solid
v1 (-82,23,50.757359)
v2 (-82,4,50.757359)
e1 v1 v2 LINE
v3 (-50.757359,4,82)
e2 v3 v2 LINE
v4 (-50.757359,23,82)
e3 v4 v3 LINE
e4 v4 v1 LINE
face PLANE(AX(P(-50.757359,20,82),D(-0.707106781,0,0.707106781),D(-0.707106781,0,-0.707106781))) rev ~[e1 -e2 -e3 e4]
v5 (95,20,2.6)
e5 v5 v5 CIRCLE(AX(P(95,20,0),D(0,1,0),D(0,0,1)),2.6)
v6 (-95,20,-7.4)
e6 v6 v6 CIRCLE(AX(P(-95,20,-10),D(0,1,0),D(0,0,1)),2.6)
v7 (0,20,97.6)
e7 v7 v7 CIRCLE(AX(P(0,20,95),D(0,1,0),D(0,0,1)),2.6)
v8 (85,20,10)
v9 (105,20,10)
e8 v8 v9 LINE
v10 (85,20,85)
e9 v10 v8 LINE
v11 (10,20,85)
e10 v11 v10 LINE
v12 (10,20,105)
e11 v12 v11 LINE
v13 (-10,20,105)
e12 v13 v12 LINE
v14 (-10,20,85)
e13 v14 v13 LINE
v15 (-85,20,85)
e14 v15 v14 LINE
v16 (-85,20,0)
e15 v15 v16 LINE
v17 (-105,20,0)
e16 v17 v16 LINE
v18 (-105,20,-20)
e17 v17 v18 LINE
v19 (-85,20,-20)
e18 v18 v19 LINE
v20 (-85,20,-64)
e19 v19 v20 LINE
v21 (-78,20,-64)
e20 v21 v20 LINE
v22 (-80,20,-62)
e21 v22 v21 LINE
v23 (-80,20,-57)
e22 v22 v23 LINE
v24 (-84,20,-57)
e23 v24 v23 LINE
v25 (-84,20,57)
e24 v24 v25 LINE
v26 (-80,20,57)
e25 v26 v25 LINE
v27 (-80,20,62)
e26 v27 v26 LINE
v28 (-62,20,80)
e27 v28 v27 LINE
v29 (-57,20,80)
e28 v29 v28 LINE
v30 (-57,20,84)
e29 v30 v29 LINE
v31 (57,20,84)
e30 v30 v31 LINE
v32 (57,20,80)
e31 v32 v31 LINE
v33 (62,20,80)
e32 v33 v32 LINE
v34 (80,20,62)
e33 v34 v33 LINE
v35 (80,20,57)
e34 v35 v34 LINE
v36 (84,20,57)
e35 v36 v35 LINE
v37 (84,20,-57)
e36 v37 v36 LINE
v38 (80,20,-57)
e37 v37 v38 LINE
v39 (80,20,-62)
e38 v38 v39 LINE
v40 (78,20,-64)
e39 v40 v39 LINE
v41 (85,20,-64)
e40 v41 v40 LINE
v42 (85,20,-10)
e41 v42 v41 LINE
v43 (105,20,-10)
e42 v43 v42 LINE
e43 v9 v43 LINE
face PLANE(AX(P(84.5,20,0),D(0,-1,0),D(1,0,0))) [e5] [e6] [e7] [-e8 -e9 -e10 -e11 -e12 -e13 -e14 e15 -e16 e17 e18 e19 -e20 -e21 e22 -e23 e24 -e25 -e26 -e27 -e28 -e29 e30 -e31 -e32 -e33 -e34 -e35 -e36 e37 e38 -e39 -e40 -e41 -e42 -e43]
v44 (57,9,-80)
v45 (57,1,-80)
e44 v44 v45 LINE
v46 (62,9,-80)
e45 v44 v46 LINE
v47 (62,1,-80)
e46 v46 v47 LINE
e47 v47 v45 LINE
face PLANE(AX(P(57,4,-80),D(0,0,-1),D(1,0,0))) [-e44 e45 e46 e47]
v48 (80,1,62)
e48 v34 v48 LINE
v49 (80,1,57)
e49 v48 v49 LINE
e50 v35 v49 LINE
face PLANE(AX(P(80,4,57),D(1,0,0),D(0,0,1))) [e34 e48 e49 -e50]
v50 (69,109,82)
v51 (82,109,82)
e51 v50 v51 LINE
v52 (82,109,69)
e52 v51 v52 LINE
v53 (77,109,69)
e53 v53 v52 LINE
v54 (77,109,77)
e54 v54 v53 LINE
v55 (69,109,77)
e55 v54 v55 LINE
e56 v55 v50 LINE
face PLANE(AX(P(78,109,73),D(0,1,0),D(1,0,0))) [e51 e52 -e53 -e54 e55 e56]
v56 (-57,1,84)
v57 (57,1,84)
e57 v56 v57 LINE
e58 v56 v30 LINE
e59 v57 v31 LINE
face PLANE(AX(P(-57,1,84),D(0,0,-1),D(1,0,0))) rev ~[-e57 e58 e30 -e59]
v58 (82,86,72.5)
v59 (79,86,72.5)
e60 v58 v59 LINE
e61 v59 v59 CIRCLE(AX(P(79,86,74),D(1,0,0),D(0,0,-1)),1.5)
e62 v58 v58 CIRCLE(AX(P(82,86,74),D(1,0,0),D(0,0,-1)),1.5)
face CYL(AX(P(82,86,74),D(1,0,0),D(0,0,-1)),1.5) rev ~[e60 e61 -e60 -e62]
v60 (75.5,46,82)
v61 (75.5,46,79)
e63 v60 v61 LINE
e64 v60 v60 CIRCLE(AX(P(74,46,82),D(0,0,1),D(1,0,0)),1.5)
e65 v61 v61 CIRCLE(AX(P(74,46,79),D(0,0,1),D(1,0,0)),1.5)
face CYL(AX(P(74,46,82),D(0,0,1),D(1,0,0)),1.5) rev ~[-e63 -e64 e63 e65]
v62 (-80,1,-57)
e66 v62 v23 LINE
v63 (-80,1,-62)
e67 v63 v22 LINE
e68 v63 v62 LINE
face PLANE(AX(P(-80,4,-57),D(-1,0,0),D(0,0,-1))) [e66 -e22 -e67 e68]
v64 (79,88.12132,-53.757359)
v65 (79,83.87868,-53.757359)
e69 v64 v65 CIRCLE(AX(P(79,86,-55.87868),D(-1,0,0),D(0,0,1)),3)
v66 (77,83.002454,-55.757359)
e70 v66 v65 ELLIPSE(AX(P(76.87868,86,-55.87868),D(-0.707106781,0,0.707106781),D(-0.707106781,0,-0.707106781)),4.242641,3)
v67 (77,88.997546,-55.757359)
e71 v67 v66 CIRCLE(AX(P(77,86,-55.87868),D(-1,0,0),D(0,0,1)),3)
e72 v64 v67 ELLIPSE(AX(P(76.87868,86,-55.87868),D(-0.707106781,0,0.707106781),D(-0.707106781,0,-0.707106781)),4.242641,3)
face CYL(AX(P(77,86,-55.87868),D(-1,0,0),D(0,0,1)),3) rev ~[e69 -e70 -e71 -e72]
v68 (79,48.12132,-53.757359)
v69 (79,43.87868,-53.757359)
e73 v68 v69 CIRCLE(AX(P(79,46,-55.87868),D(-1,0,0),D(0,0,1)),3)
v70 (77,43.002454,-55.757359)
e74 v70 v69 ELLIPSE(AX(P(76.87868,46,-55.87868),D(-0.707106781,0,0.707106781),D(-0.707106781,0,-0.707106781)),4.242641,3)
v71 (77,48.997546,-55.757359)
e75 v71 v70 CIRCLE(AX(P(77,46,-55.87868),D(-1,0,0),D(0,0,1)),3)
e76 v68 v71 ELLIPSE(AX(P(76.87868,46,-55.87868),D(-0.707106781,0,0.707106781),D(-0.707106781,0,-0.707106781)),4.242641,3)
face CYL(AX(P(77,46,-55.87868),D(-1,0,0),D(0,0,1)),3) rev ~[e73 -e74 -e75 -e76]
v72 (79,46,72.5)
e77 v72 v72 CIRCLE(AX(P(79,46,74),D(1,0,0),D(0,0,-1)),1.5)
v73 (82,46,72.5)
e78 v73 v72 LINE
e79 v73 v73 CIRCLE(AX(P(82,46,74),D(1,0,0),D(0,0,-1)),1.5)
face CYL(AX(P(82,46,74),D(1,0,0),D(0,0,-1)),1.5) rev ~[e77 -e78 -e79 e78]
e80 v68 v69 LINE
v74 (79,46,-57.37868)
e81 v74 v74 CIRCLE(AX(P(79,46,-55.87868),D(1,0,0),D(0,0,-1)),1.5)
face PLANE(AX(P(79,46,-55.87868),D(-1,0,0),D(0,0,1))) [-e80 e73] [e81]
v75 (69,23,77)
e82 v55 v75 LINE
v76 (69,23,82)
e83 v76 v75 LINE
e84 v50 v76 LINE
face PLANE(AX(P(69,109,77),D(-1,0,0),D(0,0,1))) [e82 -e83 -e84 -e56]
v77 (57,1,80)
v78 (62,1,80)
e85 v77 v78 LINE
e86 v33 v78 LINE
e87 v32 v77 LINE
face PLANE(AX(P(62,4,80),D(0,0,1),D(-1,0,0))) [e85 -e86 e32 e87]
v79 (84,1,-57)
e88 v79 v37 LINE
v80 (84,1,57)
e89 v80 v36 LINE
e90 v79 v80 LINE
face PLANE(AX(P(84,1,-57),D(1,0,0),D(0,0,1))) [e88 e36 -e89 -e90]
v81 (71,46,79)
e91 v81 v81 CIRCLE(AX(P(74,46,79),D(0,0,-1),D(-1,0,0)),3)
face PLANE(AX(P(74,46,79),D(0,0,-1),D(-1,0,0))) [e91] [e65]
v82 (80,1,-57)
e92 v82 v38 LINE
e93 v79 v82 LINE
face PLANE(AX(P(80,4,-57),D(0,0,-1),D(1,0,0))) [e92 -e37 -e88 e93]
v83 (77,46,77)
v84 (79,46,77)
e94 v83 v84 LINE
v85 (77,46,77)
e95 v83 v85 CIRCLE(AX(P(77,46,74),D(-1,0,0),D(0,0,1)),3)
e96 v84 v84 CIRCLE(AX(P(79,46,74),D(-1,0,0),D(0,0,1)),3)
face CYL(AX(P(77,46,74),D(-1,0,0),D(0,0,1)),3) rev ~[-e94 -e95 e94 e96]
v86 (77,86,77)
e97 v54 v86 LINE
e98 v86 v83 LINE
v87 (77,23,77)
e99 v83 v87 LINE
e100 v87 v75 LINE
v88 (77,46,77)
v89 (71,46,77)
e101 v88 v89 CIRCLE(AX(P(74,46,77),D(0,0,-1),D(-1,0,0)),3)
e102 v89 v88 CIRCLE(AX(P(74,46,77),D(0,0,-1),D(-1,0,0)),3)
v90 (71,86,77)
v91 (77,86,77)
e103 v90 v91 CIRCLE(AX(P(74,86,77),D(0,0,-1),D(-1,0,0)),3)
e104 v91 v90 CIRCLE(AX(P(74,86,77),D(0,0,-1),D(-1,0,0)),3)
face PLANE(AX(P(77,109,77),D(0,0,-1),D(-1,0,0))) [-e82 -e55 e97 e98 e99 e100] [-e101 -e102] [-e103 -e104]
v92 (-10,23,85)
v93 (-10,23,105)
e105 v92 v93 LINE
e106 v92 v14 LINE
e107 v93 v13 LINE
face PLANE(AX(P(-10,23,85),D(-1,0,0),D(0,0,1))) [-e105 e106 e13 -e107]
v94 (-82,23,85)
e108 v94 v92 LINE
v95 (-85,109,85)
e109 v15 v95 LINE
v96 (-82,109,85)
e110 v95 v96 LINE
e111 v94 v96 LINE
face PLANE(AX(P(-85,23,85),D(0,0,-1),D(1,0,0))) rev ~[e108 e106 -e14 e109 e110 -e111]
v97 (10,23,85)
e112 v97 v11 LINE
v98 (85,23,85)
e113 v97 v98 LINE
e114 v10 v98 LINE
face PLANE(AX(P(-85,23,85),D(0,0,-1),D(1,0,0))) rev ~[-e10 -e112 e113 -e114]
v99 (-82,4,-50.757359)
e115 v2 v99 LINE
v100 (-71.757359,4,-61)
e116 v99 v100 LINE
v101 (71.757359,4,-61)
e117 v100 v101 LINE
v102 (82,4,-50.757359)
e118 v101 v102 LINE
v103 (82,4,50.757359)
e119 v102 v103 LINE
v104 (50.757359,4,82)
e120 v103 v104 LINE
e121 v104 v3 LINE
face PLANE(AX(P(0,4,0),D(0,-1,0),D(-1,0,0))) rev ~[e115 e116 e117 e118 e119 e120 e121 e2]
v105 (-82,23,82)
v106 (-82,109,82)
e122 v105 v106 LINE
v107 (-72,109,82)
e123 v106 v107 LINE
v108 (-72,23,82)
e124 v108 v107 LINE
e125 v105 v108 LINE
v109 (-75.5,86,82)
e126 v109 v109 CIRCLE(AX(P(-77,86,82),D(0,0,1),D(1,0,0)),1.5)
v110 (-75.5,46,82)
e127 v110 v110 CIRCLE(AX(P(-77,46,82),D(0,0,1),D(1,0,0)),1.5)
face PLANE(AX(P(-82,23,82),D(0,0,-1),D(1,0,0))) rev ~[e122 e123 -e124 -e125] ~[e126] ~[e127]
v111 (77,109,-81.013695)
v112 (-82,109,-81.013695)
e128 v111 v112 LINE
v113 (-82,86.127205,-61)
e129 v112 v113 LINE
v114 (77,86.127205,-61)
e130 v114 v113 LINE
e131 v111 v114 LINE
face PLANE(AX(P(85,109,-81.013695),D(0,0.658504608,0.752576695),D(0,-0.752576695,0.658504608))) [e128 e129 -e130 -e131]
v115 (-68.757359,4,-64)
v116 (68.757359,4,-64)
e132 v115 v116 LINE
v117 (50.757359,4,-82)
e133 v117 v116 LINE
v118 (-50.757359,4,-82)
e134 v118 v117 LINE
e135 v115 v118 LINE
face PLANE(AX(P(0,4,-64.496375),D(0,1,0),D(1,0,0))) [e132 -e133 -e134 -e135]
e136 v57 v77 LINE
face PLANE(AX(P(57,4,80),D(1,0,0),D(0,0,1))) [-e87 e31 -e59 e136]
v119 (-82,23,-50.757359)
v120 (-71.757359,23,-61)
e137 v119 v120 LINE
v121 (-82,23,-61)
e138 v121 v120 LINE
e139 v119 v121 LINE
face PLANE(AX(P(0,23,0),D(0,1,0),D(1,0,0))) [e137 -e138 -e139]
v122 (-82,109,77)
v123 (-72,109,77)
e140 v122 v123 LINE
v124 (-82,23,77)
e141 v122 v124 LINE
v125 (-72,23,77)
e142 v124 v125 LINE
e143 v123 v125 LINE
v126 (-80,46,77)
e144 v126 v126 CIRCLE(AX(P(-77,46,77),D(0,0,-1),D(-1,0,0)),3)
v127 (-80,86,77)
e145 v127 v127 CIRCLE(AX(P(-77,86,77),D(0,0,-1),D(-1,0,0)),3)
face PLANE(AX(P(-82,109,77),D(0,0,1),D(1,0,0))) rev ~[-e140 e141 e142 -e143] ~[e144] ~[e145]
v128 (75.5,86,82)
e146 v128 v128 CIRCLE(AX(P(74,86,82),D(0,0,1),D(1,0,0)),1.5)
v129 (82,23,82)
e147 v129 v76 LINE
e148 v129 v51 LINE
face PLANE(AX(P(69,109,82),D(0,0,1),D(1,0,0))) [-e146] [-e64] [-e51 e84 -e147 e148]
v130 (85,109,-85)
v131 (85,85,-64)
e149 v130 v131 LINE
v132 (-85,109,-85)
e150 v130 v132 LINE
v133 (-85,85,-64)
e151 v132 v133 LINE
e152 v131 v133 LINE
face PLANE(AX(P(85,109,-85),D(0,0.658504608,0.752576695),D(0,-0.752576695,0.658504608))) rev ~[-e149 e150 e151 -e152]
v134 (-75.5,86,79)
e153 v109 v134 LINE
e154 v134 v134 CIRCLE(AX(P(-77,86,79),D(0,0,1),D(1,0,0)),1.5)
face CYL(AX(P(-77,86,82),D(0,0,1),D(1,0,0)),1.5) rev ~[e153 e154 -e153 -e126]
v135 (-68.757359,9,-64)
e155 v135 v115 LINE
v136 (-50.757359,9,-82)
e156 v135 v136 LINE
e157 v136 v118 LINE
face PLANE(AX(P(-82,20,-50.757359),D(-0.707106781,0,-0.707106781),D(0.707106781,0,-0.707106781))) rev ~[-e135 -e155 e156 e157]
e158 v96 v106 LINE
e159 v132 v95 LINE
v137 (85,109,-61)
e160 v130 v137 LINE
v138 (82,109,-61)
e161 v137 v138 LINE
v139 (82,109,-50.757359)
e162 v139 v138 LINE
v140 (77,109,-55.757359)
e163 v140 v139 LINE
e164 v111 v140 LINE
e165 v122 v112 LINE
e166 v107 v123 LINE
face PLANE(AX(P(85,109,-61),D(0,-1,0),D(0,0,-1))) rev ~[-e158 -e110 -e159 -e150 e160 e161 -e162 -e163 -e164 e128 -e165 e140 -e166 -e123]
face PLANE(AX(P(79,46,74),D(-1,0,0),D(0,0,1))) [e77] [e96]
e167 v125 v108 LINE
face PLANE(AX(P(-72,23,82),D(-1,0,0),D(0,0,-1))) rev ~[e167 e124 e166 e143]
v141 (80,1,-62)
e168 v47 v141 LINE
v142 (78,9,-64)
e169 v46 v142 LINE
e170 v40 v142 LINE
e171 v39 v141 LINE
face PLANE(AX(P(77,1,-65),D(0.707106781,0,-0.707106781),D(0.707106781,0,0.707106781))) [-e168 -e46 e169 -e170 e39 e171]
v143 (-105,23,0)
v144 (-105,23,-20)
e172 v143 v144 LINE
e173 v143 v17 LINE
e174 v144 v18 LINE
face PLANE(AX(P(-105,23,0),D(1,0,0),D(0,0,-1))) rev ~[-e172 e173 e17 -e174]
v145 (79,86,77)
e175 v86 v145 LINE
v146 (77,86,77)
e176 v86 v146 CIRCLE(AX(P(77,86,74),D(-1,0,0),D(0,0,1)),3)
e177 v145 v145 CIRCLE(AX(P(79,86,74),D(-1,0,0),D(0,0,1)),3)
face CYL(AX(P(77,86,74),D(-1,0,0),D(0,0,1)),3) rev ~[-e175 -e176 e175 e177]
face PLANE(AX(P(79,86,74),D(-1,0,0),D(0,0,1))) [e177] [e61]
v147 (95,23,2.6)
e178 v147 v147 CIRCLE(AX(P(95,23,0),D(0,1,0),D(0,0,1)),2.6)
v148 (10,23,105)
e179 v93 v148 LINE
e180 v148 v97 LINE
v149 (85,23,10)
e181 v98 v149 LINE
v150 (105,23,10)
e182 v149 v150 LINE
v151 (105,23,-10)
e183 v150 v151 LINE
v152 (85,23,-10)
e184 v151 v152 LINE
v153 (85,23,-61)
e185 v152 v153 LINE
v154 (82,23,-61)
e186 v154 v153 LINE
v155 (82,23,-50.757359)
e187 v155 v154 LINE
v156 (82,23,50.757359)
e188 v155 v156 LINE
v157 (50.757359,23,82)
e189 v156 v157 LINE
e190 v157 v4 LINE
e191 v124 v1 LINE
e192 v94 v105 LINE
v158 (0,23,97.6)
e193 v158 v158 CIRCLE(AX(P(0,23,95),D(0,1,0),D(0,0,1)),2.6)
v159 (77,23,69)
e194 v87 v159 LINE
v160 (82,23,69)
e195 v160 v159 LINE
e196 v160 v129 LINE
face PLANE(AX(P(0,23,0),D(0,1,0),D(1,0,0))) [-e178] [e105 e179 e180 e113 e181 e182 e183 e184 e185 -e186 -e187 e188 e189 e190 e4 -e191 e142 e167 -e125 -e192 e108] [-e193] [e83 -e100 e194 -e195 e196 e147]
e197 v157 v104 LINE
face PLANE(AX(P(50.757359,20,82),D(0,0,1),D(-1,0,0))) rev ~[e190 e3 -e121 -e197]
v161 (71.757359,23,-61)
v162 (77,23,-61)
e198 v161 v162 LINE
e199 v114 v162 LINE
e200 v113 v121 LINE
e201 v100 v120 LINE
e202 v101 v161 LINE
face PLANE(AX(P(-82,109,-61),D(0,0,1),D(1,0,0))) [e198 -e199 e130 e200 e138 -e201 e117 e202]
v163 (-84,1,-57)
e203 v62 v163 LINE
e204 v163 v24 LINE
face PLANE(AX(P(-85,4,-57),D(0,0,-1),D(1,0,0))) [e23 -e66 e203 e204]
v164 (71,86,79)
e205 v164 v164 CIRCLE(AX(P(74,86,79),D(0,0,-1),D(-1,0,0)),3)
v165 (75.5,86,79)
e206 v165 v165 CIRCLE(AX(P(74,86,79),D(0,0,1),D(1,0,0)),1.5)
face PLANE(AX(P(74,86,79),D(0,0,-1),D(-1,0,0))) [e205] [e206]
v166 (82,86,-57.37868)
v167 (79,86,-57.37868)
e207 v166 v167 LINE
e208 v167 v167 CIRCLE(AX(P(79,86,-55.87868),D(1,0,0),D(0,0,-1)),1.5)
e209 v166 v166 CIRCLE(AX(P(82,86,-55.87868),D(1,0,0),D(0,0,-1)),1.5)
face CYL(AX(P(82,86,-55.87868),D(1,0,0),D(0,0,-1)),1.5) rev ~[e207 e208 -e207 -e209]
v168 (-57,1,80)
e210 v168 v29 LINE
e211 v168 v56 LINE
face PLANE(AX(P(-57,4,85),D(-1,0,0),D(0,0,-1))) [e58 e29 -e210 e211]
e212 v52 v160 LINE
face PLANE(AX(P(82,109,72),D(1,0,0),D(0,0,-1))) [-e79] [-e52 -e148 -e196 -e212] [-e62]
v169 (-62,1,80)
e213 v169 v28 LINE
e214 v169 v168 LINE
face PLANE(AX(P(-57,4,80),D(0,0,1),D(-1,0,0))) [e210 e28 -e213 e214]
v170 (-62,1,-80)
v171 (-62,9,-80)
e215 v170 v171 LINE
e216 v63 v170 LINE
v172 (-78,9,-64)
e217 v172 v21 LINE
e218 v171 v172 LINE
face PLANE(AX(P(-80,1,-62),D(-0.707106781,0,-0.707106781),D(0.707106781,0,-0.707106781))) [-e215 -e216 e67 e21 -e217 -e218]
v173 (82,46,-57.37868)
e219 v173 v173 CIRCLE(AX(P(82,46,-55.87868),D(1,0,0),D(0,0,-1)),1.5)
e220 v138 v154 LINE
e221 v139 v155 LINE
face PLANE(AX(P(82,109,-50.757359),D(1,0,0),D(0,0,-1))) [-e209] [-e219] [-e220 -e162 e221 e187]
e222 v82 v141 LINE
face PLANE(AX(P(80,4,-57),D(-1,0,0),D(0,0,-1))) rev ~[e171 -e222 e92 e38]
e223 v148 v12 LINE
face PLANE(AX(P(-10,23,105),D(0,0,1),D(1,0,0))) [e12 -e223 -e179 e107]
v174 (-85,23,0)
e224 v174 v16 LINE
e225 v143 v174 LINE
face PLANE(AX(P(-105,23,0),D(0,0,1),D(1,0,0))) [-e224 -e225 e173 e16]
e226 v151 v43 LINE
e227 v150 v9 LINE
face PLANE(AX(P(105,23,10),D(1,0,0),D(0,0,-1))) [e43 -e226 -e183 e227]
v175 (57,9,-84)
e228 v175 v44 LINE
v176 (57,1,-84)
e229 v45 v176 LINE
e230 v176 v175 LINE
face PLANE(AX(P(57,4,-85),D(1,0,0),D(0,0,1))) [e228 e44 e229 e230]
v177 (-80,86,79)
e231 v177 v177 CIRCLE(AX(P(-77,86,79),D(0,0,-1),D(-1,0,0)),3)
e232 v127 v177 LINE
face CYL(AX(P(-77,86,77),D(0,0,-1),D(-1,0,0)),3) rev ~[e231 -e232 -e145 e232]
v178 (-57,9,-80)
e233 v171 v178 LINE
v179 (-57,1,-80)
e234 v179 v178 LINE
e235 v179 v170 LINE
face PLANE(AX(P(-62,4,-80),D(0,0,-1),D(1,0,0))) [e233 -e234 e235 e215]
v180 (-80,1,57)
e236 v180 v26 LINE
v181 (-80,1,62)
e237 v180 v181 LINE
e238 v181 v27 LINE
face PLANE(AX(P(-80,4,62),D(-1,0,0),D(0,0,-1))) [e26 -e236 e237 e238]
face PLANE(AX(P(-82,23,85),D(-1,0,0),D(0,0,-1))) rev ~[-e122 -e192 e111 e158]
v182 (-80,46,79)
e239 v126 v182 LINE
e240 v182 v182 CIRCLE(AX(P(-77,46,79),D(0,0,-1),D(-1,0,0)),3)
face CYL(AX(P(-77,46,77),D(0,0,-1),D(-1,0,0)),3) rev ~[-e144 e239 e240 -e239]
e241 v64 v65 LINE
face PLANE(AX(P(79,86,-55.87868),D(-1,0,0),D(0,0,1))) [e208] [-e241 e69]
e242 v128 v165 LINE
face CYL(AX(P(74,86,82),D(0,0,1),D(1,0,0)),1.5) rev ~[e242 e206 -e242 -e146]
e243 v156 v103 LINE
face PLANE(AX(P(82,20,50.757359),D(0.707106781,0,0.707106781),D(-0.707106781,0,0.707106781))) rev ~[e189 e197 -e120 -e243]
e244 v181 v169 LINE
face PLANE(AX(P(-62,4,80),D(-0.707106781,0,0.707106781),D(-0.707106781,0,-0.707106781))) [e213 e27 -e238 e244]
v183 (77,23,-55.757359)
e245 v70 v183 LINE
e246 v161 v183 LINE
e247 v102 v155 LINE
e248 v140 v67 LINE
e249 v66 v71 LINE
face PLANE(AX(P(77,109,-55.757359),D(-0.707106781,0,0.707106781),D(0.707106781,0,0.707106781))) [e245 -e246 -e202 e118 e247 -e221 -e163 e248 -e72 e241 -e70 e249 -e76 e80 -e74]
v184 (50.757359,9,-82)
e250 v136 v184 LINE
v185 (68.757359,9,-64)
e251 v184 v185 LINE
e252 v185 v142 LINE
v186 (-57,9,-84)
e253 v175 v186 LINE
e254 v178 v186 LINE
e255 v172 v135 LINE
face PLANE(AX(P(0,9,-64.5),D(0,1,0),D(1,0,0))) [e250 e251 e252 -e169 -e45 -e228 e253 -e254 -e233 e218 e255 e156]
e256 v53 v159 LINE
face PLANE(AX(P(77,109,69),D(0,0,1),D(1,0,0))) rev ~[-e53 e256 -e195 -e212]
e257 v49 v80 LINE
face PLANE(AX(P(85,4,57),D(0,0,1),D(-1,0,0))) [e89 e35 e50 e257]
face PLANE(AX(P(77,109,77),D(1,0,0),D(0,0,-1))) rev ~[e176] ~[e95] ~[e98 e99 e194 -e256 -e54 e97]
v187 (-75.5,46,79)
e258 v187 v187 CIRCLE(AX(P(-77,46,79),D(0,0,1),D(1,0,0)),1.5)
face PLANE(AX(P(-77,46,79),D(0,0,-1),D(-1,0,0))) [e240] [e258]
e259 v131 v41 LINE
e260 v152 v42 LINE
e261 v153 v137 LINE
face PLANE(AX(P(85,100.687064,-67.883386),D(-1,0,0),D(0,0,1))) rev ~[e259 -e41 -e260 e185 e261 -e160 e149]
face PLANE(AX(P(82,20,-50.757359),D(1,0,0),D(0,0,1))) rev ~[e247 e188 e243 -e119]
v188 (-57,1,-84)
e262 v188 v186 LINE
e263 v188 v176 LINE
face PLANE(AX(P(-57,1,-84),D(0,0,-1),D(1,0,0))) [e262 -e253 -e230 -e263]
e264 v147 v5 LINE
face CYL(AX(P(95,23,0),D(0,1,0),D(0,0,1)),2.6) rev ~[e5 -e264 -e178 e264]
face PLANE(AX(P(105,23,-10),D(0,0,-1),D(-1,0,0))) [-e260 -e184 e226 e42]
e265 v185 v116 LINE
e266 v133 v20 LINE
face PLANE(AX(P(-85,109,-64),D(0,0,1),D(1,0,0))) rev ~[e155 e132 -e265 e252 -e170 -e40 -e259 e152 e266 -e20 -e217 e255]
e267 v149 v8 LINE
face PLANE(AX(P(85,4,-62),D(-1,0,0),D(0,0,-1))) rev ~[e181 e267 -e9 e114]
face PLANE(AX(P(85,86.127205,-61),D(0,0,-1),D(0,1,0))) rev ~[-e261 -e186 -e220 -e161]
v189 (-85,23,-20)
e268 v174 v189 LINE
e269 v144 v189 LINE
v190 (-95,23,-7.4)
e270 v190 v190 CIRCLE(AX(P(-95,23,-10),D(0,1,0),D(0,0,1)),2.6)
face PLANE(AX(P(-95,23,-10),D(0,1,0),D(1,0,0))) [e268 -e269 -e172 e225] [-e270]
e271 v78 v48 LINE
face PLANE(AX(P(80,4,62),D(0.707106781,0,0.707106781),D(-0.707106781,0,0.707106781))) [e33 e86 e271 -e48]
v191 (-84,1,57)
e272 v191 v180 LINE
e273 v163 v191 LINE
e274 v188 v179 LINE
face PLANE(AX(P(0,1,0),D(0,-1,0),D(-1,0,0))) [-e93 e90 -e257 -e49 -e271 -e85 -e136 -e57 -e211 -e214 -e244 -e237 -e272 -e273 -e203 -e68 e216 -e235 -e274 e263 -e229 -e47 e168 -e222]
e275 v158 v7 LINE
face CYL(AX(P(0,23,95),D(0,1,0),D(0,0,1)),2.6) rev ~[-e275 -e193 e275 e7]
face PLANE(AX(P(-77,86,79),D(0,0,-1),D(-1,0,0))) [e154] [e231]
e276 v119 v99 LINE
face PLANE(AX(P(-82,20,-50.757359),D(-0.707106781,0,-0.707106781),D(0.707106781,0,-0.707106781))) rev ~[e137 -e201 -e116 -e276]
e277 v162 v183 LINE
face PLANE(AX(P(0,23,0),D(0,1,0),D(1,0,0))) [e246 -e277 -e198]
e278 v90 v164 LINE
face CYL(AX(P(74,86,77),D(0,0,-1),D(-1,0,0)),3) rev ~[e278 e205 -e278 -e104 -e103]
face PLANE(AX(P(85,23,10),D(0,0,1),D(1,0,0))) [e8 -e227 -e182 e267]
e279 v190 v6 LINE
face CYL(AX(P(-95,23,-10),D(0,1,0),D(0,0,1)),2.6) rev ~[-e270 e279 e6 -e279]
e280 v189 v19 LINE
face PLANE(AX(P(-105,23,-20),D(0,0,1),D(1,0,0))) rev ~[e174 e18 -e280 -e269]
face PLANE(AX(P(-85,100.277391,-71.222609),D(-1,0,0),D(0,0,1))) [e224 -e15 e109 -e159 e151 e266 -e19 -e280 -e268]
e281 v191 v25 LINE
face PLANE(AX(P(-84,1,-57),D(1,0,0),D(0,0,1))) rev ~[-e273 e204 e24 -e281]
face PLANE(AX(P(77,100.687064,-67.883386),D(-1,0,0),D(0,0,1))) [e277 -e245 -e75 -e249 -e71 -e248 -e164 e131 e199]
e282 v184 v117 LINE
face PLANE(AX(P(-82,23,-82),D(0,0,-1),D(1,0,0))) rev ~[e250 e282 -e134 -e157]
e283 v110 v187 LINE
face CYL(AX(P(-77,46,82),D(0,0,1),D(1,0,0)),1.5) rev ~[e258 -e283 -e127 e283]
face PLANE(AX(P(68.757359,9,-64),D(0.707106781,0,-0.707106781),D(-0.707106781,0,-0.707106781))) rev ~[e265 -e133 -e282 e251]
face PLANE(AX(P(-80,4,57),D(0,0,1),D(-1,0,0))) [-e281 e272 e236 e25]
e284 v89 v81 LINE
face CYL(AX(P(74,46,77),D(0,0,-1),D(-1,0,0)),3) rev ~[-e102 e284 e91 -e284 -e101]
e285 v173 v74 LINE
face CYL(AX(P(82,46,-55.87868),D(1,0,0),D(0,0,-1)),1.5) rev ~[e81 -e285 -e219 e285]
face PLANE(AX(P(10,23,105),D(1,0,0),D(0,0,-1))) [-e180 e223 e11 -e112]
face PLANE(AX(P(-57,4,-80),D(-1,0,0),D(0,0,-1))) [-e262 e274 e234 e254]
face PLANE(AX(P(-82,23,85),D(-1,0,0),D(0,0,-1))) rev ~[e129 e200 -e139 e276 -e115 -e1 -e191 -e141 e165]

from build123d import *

# Parameters (mm, degrees)
EXTRUDE_1_DEPTH      = 4
EXTRUDE_2_DEPTH      = 16
SKETCH_3_W           = 170
SKETCH_3_H           = 170
CUT_EXTRUDE_2_DEPTH  = 1
EXTRUDE_3_DEPTH      = 3
EXTRUDE_4_DEPTH      = 86
SKETCH_7_W           = 10
SKETCH_7_H           = 3
SKETCH_7_W_2         = 3
SKETCH_7_H_2         = 10
EXTRUDE_6_DEPTH      = 86
SKETCH_8_R           = 1.5
CUT_EXTRUDE_3_DEPTH  = 86
SKETCH_9_R           = 1.606229087
SKETCH_9_R_2         = 2.055519853
CUT_EXTRUDE_4_DEPTH  = 86
SKETCH_10_W          = 3
SKETCH_10_H          = 3
EXTRUDE_7_DEPTH      = 86
SKETCH_11_R          = 1.5
CUT_EXTRUDE_5_DEPTH  = 86
EXTRUDE_8_DEPTH      = 86
SKETCH_13_R          = 1.5
CUT_EXTRUDE_6_DEPTH  = 86
SKETCH_14_R          = 3
CUT_EXTRUDE_7_DEPTH  = 2
SKETCH_15_R          = 1.5
CUT_EXTRUDE_8_DEPTH  = 5
SKETCH_16_R          = 3
CUT_EXTRUDE_9_DEPTH  = 2
SKETCH_17_W          = 10
SKETCH_17_H          = 2
SKETCH_17_W_2        = 2
SKETCH_17_H_2        = 10
EXTRUDE_9_DEPTH      = 86
SKETCH_18_R          = 3
CUT_EXTRUDE_10_DEPTH = 2
SKETCH_19_R          = 3
CUT_EXTRUDE_11_DEPTH = 2
SKETCH_22_W          = 20
SKETCH_22_H          = 20
SKETCH_22_R          = 2.6
EXTRUDE_10_DEPTH     = 3
SKETCH_23_W          = 170
SKETCH_23_H          = 20
CUT_EXTRUDE_12_DEPTH = 100
SKETCH_25_W          = 167
SKETCH_25_H          = 3
EXTRUDE_11_DEPTH     = 105
CUT_EXTRUDE_14_DEPTH = 19
SKETCH_28_W          = 114
SKETCH_28_H          = 1
SKETCH_28_W_2        = 1
SKETCH_28_H_2        = 114
CUT_EXTRUDE_15_DEPTH = 19
EXTRUDE_12_DEPTH     = 90
SKETCH_32_W          = 170
SKETCH_32_H          = 1
CUT_EXTRUDE_18_DEPTH = 100
CUT_EXTRUDE_19_DEPTH = 5
SKETCH_34_W          = 159
SKETCH_34_H          = 1
SKETCH_34_W_2        = 3
EXTRUDE_13_DEPTH     = 105
SKETCH_35_W          = 5
SKETCH_35_H          = 5
CUT_EXTRUDE_20_DEPTH = 16
SKETCH_36_W          = 2
SKETCH_36_H          = 1
CUT_EXTRUDE_21_DEPTH = 16
SKETCH_37_R          = 1.5
CUT_EXTRUDE_22_DEPTH = 16
SKETCH_38_R          = 3
CUT_EXTRUDE_23_DEPTH = 2
EXTRUDE_14_DEPTH     = 170
CUT_EXTRUDE_24_DEPTH = 167
EXTRUDE_15_DEPTH     = 8


with BuildPart() as part:
    # 草图1 → 凸台-拉伸1 (new body)
    with BuildSketch(Plane(origin=(0, 0, 0), x_dir=(1, 0, 0), z_dir=(0, 1, 0))):
        Polygon((-80, 62), (-62, 80), (-57, 80), (-57, 85), (57, 85), (57, 80), (62, 80), (80, 62), (80, 57), (85, 57), (85, -57), (80, -57), (80, -62), (62, -80), (57, -80), (57, -85), (-57, -85), (-57, -80), (-62, -80), (-80, -62), (-80, -57), (-85, -57), (-85, 57), (-80, 57), align=None)
    extrude(amount=EXTRUDE_1_DEPTH)

    # 草图2 → 凸台-拉伸2 (add)
    with BuildSketch(Plane(origin=(0, 4, 0), x_dir=(1, 0, 0), z_dir=(0, 1, 0))):
        Polygon((-57, 85), (57, 85), (57, 80), (62, 80), (80, 62), (80, 57), (85, 57), (85, -57), (80, -57), (80, -62), (62, -80), (57, -80), (57, -85), (-57, -85), (-57, -80), (-62, -80), (-80, -62), (-80, -57), (-85, -57), (-85, 57), (-80, 57), (-80, 62), (-62, 80), (-57, 80), align=None)
        Polygon((-82, 50.757359313), (-50.757359313, 82), (50.757359313, 82), (82, 50.757359313), (82, -50.757359313), (50.757359313, -82), (-50.757359313, -82), (-82, -50.757359313), align=None, mode=Mode.SUBTRACT)
    extrude(amount=EXTRUDE_2_DEPTH)

    # 草图3 → 切除-拉伸2 (cut)
    with BuildSketch(Plane(origin=(0, 0, 0), x_dir=(-1, 0, 0), z_dir=(0, -1, 0))):
        Rectangle(SKETCH_3_W, SKETCH_3_H)
    extrude(amount=-CUT_EXTRUDE_2_DEPTH, mode=Mode.SUBTRACT)

    # 草图4 → 凸台-拉伸3 (add)
    with BuildSketch(Plane(origin=(0, 20, 0), x_dir=(1, 0, 0), z_dir=(0, 1, 0))):
        Polygon((85, 85), (-57, 85), (-85, 85), (-85, -85), (57, -85), (85, -85), align=None)
        Polygon((82, 50.757359313), (82, -50.757359313), (50.757359313, -82), (-50.757359313, -82), (-82, -50.757359313), (-82, 50.757359313), (-50.757359313, 82), (50.757359313, 82), align=None, mode=Mode.SUBTRACT)
    extrude(amount=EXTRUDE_3_DEPTH)

    # 草图5 → 凸台-拉伸4 (add)
    with BuildSketch(Plane(origin=(0, 23, 0), x_dir=(1, 0, 0), z_dir=(0, 1, 0))):
        Polygon((85, 85), (-85, 85), (-85, -85), (-82, -85), (-82, 82), (85, 82), align=None)
    extrude(amount=EXTRUDE_4_DEPTH)

    # 草图7 → 凸台-拉伸6 (add)
    with BuildSketch(Plane(origin=(0, 23, 0), x_dir=(1, 0, 0), z_dir=(0, 1, 0))):
        with Locations((-77, -80.5)):
            Rectangle(SKETCH_7_W, SKETCH_7_H)
        with Locations((80.5, 77)):
            Rectangle(SKETCH_7_W_2, SKETCH_7_H_2)
        Polygon((72, -79), (72, -82), (82, -82), (82, -72), (79, -72), (79, -79), align=None)
    extrude(amount=EXTRUDE_6_DEPTH)

    # 草图8 → 切除-拉伸3 (cut)
    with BuildSketch(Plane.XY.offset(82)):
        with Locations((-77, 86)):
            Circle(SKETCH_8_R)
        with Locations((-77, 46)):
            Circle(SKETCH_8_R)
    extrude(amount=-CUT_EXTRUDE_3_DEPTH, mode=Mode.SUBTRACT)

    # 草图9 → 切除-拉伸4 (cut)
    with BuildSketch(Plane(origin=(82, 0, 0), x_dir=(0, 0, -1), z_dir=(1, 0, 0))):
        with Locations((77, 86)):
            Circle(SKETCH_9_R)
        with Locations((77, 46)):
            Circle(SKETCH_9_R_2)
    extrude(amount=-CUT_EXTRUDE_4_DEPTH, mode=Mode.SUBTRACT)

    # 草图10 → 凸台-拉伸7 (add)
    with BuildSketch(Plane(origin=(0, 109, 0), x_dir=(1, 0, 0), z_dir=(0, 1, 0))):
        with Locations((80.5, -70.5)):
            Rectangle(SKETCH_10_W, SKETCH_10_H)
        with Locations((70.5, -80.5)):
            Rectangle(SKETCH_10_W, SKETCH_10_H)
    extrude(amount=-EXTRUDE_7_DEPTH)

    # 草图11 → 切除-拉伸5 (cut)
    with BuildSketch(Plane.XY.offset(82)):
        with Locations((74, 86)):
            Circle(SKETCH_11_R)
        with Locations((74, 46)):
            Circle(SKETCH_11_R)
    extrude(amount=-CUT_EXTRUDE_5_DEPTH, mode=Mode.SUBTRACT)

    # 草图12 → 凸台-拉伸8 (add)
    with BuildSketch(Plane(origin=(0, 109, 0), x_dir=(1, 0, 0), z_dir=(0, 1, 0))):
        Polygon((69, -77), (69, -79), (79, -79), (79, -69), (77, -69), (77, -77), align=None)
    extrude(amount=-EXTRUDE_8_DEPTH)

    # 草图13 → 切除-拉伸6 (cut)
    with BuildSketch(Plane.XY.offset(82)):
        with Locations((74, 86)):
            Circle(SKETCH_13_R)
        with Locations((74, 46)):
            Circle(SKETCH_13_R)
    extrude(amount=-CUT_EXTRUDE_6_DEPTH, mode=Mode.SUBTRACT)

    # 草图14 → 切除-拉伸7 (cut)
    with BuildSketch(Plane(origin=(0, 0, 77), x_dir=(-1, 0, 0), z_dir=(0, 0, -1))):
        with Locations((-74, 86)):
            Circle(SKETCH_14_R)
        with Locations((-74, 46)):
            Circle(SKETCH_14_R)
    extrude(amount=-CUT_EXTRUDE_7_DEPTH, mode=Mode.SUBTRACT)

    # 草图15 → 切除-拉伸8 (cut)
    with BuildSketch(Plane(origin=(82, 0, 0), x_dir=(0, 0, -1), z_dir=(1, 0, 0))):
        with Locations((-74, 86)):
            Circle(SKETCH_15_R)
        with Locations((-74, 46)):
            Circle(SKETCH_15_R)
    extrude(amount=-CUT_EXTRUDE_8_DEPTH, mode=Mode.SUBTRACT)

    # 草图16 → 切除-拉伸9 (cut)
    with BuildSketch(Plane.ZY.offset(-77)):
        with Locations((74, 86)):
            Circle(SKETCH_16_R)
        with Locations((74, 46)):
            Circle(SKETCH_16_R)
    extrude(amount=-CUT_EXTRUDE_9_DEPTH, mode=Mode.SUBTRACT)

    # 草图17 → 凸台-拉伸9 (add)
    with BuildSketch(Plane(origin=(0, 109, 0), x_dir=(1, 0, 0), z_dir=(0, 1, 0))):
        with Locations((-77, -78)):
            Rectangle(SKETCH_17_W, SKETCH_17_H)
        with Locations((78, 77)):
            Rectangle(SKETCH_17_W_2, SKETCH_17_H_2)
    extrude(amount=-EXTRUDE_9_DEPTH)

    # 草图18 → 切除-拉伸10 (cut)
    with BuildSketch(Plane.ZY.offset(-77)):
        with Locations((-77, 86)):
            Circle(SKETCH_18_R)
        with Locations((-77, 46)):
            Circle(SKETCH_18_R)
    extrude(amount=-CUT_EXTRUDE_10_DEPTH, mode=Mode.SUBTRACT)

    # 草图19 → 切除-拉伸11 (cut)
    with BuildSketch(Plane(origin=(0, 0, 77), x_dir=(-1, 0, 0), z_dir=(0, 0, -1))):
        with Locations((77, 86)):
            Circle(SKETCH_19_R)
        with Locations((77, 46)):
            Circle(SKETCH_19_R)
    extrude(amount=-CUT_EXTRUDE_11_DEPTH, mode=Mode.SUBTRACT)

    # 草图22 → 凸台-拉伸10 (add)
    # profile 1 of 3: a face of its own
    with BuildSketch(Plane(origin=(0, 23, 0), x_dir=(1, 0, 0), z_dir=(0, 1, 0))):
        with Locations((-95, 10)):
            Rectangle(SKETCH_22_W, SKETCH_22_H)
        with Locations((-95, 10)):
            Circle(SKETCH_22_R, mode=Mode.SUBTRACT)
    # profile 2 of 3: a face of its own
    with BuildSketch(Plane(origin=(0, 23, 0), x_dir=(1, 0, 0), z_dir=(0, 1, 0))):
        with Locations((95, 0)):
            Rectangle(SKETCH_22_W, SKETCH_22_H)
        with Locations((95, 0)):
            Circle(SKETCH_22_R, mode=Mode.SUBTRACT)
    # profile 3 of 3: a face of its own
    with BuildSketch(Plane(origin=(0, 23, 0), x_dir=(1, 0, 0), z_dir=(0, 1, 0))):
        with Locations((0, -95)):
            Rectangle(SKETCH_22_W, SKETCH_22_H)
        with Locations((0, -95)):
            Circle(SKETCH_22_R, mode=Mode.SUBTRACT)
    extrude(amount=-EXTRUDE_10_DEPTH)

    # 草图23 → 切除-拉伸12 (cut)
    with BuildSketch(Plane(origin=(0, 109, 0), x_dir=(1, 0, 0), z_dir=(0, 1, 0))):
        with Locations((0, 75)):
            Rectangle(SKETCH_23_W, SKETCH_23_H)
    extrude(amount=-CUT_EXTRUDE_12_DEPTH, mode=Mode.SUBTRACT)

    # 草图25 → 凸台-拉伸11 (add)
    with BuildSketch(Plane(origin=(0, 4, 0), x_dir=(1, 0, 0), z_dir=(0, 1, 0))):
        with Locations((1.5, 63.5)):
            Rectangle(SKETCH_25_W, SKETCH_25_H)
    extrude(amount=EXTRUDE_11_DEPTH)

    # 草图26 → 切除-拉伸14 (cut)
    with BuildSketch(Plane.XZ.offset(-1)):
        Polygon((80, -65), (77, -65), (80, -62), (85, -62), (85, -65), align=None)
        Polygon((-82, -62), (-80, -62), (-77, -65), (-80, -65), (-82, -65), align=None)
    extrude(amount=-CUT_EXTRUDE_14_DEPTH, mode=Mode.SUBTRACT)

    # 草图28 → 切除-拉伸15 (cut)
    with BuildSketch(Plane.XZ.offset(-1)):
        with Locations((0, 84.5)):
            Rectangle(SKETCH_28_W, SKETCH_28_H)
        with Locations((84.5, 0)):
            Rectangle(SKETCH_28_W_2, SKETCH_28_H_2)
        with Locations((0, -84.5)):
            Rectangle(SKETCH_28_W, SKETCH_28_H)
        with Locations((-84.5, 0)):
            Rectangle(SKETCH_28_W_2, SKETCH_28_H_2)
    extrude(amount=-CUT_EXTRUDE_15_DEPTH, mode=Mode.SUBTRACT)

    # 草图29 → 凸台-拉伸12 (add)
    with BuildSketch(Plane(origin=(0, 109, 0), x_dir=(1, 0, 0), z_dir=(0, 1, 0))):
        Polygon((82, 50.757359313), (82, 62), (79, 62), (77, 62), (77, 55.757359313), (79, 53.757359313), align=None)
    extrude(amount=-EXTRUDE_12_DEPTH)

    # 草图32 → 切除-拉伸18 (cut)
    with BuildSketch(Plane(origin=(0, 109, 0), x_dir=(1, 0, 0), z_dir=(0, 1, 0))):
        with Locations((0, 64.5)):
            Rectangle(SKETCH_32_W, SKETCH_32_H)
    extrude(amount=-CUT_EXTRUDE_18_DEPTH, mode=Mode.SUBTRACT)

    # 草图33 → 切除-拉伸19 (cut)
    with BuildSketch(Plane(origin=(0, 9, 0), x_dir=(1, 0, 0), z_dir=(0, 1, 0))):
        Polygon((67.757359313, 65), (-67.757359313, 65), (-68.757359313, 64), (67.757359313, 64), (68.757359313, 64), align=None)
    extrude(amount=-CUT_EXTRUDE_19_DEPTH, mode=Mode.SUBTRACT)

    # 草图34 → 凸台-拉伸13 (add)
    with BuildSketch(Plane(origin=(0, 109, 0), x_dir=(1, 0, 0), z_dir=(0, 1, 0))):
        with Locations((-2.5, 61.5)):
            Rectangle(SKETCH_34_W, SKETCH_34_H)
        with Locations((83.5, 61.5)):
            Rectangle(SKETCH_34_W_2, SKETCH_34_H)
    extrude(amount=-EXTRUDE_13_DEPTH)

    # 草图35 → 切除-拉伸20 (cut)
    with BuildSketch(Plane(origin=(0, 4, 0), x_dir=(-1, 0, 0), z_dir=(0, -1, 0))):
        with Locations((-82.5, 59.5)):
            Rectangle(SKETCH_35_W, SKETCH_35_H)
    extrude(amount=-CUT_EXTRUDE_20_DEPTH, mode=Mode.SUBTRACT)

    # 草图36 → 切除-拉伸21 (cut)
    with BuildSketch(Plane.XZ.offset(-4)):
        with Locations((-81, -61.5)):
            Rectangle(SKETCH_36_W, SKETCH_36_H)
    extrude(amount=-CUT_EXTRUDE_21_DEPTH, mode=Mode.SUBTRACT)

    # 草图37 → 切除-拉伸22 (cut)
    with BuildSketch(Plane(origin=(82, 0, 0), x_dir=(0, 0, -1), z_dir=(1, 0, 0))):
        with Locations((55.878679656, 46)):
            Circle(SKETCH_37_R)
        with Locations((55.878679656, 86)):
            Circle(SKETCH_37_R)
    extrude(amount=-CUT_EXTRUDE_22_DEPTH, mode=Mode.SUBTRACT)

    # 草图38 → 切除-拉伸23 (cut)
    with BuildSketch(Plane.ZY.offset(-77)):
        with Locations((-55.878679656, 86)):
            Circle(SKETCH_38_R)
        with Locations((-55.878679656, 46)):
            Circle(SKETCH_38_R)
    extrude(amount=-CUT_EXTRUDE_23_DEPTH, mode=Mode.SUBTRACT)

    # 草图39 → 凸台-拉伸14 (add)
    with BuildSketch(Plane(origin=(85, 0, 0), x_dir=(0, 0, -1), z_dir=(1, 0, 0))):
        Polygon((64, 109), (85, 109), (64, 85), align=None)
    extrude(amount=-EXTRUDE_14_DEPTH)

    # 草图40 → 切除-拉伸24 (cut)
    with BuildSketch(Plane(origin=(85, 0, 0), x_dir=(0, 0, -1), z_dir=(1, 0, 0))):
        Polygon((61, 109), (81.01369532, 109), (61, 86.127205348), align=None)
    extrude(amount=-CUT_EXTRUDE_24_DEPTH, mode=Mode.SUBTRACT)

    # 草图41 → 凸台-拉伸15 (add)
    with BuildSketch(Plane(origin=(85, 0, 0), x_dir=(0, 0, -1), z_dir=(1, 0, 0))):
        Polygon((61, 86.127205348), (61, 109), (81.01369532, 109), align=None)
    extrude(amount=-EXTRUDE_15_DEPTH)


solid = part.part
